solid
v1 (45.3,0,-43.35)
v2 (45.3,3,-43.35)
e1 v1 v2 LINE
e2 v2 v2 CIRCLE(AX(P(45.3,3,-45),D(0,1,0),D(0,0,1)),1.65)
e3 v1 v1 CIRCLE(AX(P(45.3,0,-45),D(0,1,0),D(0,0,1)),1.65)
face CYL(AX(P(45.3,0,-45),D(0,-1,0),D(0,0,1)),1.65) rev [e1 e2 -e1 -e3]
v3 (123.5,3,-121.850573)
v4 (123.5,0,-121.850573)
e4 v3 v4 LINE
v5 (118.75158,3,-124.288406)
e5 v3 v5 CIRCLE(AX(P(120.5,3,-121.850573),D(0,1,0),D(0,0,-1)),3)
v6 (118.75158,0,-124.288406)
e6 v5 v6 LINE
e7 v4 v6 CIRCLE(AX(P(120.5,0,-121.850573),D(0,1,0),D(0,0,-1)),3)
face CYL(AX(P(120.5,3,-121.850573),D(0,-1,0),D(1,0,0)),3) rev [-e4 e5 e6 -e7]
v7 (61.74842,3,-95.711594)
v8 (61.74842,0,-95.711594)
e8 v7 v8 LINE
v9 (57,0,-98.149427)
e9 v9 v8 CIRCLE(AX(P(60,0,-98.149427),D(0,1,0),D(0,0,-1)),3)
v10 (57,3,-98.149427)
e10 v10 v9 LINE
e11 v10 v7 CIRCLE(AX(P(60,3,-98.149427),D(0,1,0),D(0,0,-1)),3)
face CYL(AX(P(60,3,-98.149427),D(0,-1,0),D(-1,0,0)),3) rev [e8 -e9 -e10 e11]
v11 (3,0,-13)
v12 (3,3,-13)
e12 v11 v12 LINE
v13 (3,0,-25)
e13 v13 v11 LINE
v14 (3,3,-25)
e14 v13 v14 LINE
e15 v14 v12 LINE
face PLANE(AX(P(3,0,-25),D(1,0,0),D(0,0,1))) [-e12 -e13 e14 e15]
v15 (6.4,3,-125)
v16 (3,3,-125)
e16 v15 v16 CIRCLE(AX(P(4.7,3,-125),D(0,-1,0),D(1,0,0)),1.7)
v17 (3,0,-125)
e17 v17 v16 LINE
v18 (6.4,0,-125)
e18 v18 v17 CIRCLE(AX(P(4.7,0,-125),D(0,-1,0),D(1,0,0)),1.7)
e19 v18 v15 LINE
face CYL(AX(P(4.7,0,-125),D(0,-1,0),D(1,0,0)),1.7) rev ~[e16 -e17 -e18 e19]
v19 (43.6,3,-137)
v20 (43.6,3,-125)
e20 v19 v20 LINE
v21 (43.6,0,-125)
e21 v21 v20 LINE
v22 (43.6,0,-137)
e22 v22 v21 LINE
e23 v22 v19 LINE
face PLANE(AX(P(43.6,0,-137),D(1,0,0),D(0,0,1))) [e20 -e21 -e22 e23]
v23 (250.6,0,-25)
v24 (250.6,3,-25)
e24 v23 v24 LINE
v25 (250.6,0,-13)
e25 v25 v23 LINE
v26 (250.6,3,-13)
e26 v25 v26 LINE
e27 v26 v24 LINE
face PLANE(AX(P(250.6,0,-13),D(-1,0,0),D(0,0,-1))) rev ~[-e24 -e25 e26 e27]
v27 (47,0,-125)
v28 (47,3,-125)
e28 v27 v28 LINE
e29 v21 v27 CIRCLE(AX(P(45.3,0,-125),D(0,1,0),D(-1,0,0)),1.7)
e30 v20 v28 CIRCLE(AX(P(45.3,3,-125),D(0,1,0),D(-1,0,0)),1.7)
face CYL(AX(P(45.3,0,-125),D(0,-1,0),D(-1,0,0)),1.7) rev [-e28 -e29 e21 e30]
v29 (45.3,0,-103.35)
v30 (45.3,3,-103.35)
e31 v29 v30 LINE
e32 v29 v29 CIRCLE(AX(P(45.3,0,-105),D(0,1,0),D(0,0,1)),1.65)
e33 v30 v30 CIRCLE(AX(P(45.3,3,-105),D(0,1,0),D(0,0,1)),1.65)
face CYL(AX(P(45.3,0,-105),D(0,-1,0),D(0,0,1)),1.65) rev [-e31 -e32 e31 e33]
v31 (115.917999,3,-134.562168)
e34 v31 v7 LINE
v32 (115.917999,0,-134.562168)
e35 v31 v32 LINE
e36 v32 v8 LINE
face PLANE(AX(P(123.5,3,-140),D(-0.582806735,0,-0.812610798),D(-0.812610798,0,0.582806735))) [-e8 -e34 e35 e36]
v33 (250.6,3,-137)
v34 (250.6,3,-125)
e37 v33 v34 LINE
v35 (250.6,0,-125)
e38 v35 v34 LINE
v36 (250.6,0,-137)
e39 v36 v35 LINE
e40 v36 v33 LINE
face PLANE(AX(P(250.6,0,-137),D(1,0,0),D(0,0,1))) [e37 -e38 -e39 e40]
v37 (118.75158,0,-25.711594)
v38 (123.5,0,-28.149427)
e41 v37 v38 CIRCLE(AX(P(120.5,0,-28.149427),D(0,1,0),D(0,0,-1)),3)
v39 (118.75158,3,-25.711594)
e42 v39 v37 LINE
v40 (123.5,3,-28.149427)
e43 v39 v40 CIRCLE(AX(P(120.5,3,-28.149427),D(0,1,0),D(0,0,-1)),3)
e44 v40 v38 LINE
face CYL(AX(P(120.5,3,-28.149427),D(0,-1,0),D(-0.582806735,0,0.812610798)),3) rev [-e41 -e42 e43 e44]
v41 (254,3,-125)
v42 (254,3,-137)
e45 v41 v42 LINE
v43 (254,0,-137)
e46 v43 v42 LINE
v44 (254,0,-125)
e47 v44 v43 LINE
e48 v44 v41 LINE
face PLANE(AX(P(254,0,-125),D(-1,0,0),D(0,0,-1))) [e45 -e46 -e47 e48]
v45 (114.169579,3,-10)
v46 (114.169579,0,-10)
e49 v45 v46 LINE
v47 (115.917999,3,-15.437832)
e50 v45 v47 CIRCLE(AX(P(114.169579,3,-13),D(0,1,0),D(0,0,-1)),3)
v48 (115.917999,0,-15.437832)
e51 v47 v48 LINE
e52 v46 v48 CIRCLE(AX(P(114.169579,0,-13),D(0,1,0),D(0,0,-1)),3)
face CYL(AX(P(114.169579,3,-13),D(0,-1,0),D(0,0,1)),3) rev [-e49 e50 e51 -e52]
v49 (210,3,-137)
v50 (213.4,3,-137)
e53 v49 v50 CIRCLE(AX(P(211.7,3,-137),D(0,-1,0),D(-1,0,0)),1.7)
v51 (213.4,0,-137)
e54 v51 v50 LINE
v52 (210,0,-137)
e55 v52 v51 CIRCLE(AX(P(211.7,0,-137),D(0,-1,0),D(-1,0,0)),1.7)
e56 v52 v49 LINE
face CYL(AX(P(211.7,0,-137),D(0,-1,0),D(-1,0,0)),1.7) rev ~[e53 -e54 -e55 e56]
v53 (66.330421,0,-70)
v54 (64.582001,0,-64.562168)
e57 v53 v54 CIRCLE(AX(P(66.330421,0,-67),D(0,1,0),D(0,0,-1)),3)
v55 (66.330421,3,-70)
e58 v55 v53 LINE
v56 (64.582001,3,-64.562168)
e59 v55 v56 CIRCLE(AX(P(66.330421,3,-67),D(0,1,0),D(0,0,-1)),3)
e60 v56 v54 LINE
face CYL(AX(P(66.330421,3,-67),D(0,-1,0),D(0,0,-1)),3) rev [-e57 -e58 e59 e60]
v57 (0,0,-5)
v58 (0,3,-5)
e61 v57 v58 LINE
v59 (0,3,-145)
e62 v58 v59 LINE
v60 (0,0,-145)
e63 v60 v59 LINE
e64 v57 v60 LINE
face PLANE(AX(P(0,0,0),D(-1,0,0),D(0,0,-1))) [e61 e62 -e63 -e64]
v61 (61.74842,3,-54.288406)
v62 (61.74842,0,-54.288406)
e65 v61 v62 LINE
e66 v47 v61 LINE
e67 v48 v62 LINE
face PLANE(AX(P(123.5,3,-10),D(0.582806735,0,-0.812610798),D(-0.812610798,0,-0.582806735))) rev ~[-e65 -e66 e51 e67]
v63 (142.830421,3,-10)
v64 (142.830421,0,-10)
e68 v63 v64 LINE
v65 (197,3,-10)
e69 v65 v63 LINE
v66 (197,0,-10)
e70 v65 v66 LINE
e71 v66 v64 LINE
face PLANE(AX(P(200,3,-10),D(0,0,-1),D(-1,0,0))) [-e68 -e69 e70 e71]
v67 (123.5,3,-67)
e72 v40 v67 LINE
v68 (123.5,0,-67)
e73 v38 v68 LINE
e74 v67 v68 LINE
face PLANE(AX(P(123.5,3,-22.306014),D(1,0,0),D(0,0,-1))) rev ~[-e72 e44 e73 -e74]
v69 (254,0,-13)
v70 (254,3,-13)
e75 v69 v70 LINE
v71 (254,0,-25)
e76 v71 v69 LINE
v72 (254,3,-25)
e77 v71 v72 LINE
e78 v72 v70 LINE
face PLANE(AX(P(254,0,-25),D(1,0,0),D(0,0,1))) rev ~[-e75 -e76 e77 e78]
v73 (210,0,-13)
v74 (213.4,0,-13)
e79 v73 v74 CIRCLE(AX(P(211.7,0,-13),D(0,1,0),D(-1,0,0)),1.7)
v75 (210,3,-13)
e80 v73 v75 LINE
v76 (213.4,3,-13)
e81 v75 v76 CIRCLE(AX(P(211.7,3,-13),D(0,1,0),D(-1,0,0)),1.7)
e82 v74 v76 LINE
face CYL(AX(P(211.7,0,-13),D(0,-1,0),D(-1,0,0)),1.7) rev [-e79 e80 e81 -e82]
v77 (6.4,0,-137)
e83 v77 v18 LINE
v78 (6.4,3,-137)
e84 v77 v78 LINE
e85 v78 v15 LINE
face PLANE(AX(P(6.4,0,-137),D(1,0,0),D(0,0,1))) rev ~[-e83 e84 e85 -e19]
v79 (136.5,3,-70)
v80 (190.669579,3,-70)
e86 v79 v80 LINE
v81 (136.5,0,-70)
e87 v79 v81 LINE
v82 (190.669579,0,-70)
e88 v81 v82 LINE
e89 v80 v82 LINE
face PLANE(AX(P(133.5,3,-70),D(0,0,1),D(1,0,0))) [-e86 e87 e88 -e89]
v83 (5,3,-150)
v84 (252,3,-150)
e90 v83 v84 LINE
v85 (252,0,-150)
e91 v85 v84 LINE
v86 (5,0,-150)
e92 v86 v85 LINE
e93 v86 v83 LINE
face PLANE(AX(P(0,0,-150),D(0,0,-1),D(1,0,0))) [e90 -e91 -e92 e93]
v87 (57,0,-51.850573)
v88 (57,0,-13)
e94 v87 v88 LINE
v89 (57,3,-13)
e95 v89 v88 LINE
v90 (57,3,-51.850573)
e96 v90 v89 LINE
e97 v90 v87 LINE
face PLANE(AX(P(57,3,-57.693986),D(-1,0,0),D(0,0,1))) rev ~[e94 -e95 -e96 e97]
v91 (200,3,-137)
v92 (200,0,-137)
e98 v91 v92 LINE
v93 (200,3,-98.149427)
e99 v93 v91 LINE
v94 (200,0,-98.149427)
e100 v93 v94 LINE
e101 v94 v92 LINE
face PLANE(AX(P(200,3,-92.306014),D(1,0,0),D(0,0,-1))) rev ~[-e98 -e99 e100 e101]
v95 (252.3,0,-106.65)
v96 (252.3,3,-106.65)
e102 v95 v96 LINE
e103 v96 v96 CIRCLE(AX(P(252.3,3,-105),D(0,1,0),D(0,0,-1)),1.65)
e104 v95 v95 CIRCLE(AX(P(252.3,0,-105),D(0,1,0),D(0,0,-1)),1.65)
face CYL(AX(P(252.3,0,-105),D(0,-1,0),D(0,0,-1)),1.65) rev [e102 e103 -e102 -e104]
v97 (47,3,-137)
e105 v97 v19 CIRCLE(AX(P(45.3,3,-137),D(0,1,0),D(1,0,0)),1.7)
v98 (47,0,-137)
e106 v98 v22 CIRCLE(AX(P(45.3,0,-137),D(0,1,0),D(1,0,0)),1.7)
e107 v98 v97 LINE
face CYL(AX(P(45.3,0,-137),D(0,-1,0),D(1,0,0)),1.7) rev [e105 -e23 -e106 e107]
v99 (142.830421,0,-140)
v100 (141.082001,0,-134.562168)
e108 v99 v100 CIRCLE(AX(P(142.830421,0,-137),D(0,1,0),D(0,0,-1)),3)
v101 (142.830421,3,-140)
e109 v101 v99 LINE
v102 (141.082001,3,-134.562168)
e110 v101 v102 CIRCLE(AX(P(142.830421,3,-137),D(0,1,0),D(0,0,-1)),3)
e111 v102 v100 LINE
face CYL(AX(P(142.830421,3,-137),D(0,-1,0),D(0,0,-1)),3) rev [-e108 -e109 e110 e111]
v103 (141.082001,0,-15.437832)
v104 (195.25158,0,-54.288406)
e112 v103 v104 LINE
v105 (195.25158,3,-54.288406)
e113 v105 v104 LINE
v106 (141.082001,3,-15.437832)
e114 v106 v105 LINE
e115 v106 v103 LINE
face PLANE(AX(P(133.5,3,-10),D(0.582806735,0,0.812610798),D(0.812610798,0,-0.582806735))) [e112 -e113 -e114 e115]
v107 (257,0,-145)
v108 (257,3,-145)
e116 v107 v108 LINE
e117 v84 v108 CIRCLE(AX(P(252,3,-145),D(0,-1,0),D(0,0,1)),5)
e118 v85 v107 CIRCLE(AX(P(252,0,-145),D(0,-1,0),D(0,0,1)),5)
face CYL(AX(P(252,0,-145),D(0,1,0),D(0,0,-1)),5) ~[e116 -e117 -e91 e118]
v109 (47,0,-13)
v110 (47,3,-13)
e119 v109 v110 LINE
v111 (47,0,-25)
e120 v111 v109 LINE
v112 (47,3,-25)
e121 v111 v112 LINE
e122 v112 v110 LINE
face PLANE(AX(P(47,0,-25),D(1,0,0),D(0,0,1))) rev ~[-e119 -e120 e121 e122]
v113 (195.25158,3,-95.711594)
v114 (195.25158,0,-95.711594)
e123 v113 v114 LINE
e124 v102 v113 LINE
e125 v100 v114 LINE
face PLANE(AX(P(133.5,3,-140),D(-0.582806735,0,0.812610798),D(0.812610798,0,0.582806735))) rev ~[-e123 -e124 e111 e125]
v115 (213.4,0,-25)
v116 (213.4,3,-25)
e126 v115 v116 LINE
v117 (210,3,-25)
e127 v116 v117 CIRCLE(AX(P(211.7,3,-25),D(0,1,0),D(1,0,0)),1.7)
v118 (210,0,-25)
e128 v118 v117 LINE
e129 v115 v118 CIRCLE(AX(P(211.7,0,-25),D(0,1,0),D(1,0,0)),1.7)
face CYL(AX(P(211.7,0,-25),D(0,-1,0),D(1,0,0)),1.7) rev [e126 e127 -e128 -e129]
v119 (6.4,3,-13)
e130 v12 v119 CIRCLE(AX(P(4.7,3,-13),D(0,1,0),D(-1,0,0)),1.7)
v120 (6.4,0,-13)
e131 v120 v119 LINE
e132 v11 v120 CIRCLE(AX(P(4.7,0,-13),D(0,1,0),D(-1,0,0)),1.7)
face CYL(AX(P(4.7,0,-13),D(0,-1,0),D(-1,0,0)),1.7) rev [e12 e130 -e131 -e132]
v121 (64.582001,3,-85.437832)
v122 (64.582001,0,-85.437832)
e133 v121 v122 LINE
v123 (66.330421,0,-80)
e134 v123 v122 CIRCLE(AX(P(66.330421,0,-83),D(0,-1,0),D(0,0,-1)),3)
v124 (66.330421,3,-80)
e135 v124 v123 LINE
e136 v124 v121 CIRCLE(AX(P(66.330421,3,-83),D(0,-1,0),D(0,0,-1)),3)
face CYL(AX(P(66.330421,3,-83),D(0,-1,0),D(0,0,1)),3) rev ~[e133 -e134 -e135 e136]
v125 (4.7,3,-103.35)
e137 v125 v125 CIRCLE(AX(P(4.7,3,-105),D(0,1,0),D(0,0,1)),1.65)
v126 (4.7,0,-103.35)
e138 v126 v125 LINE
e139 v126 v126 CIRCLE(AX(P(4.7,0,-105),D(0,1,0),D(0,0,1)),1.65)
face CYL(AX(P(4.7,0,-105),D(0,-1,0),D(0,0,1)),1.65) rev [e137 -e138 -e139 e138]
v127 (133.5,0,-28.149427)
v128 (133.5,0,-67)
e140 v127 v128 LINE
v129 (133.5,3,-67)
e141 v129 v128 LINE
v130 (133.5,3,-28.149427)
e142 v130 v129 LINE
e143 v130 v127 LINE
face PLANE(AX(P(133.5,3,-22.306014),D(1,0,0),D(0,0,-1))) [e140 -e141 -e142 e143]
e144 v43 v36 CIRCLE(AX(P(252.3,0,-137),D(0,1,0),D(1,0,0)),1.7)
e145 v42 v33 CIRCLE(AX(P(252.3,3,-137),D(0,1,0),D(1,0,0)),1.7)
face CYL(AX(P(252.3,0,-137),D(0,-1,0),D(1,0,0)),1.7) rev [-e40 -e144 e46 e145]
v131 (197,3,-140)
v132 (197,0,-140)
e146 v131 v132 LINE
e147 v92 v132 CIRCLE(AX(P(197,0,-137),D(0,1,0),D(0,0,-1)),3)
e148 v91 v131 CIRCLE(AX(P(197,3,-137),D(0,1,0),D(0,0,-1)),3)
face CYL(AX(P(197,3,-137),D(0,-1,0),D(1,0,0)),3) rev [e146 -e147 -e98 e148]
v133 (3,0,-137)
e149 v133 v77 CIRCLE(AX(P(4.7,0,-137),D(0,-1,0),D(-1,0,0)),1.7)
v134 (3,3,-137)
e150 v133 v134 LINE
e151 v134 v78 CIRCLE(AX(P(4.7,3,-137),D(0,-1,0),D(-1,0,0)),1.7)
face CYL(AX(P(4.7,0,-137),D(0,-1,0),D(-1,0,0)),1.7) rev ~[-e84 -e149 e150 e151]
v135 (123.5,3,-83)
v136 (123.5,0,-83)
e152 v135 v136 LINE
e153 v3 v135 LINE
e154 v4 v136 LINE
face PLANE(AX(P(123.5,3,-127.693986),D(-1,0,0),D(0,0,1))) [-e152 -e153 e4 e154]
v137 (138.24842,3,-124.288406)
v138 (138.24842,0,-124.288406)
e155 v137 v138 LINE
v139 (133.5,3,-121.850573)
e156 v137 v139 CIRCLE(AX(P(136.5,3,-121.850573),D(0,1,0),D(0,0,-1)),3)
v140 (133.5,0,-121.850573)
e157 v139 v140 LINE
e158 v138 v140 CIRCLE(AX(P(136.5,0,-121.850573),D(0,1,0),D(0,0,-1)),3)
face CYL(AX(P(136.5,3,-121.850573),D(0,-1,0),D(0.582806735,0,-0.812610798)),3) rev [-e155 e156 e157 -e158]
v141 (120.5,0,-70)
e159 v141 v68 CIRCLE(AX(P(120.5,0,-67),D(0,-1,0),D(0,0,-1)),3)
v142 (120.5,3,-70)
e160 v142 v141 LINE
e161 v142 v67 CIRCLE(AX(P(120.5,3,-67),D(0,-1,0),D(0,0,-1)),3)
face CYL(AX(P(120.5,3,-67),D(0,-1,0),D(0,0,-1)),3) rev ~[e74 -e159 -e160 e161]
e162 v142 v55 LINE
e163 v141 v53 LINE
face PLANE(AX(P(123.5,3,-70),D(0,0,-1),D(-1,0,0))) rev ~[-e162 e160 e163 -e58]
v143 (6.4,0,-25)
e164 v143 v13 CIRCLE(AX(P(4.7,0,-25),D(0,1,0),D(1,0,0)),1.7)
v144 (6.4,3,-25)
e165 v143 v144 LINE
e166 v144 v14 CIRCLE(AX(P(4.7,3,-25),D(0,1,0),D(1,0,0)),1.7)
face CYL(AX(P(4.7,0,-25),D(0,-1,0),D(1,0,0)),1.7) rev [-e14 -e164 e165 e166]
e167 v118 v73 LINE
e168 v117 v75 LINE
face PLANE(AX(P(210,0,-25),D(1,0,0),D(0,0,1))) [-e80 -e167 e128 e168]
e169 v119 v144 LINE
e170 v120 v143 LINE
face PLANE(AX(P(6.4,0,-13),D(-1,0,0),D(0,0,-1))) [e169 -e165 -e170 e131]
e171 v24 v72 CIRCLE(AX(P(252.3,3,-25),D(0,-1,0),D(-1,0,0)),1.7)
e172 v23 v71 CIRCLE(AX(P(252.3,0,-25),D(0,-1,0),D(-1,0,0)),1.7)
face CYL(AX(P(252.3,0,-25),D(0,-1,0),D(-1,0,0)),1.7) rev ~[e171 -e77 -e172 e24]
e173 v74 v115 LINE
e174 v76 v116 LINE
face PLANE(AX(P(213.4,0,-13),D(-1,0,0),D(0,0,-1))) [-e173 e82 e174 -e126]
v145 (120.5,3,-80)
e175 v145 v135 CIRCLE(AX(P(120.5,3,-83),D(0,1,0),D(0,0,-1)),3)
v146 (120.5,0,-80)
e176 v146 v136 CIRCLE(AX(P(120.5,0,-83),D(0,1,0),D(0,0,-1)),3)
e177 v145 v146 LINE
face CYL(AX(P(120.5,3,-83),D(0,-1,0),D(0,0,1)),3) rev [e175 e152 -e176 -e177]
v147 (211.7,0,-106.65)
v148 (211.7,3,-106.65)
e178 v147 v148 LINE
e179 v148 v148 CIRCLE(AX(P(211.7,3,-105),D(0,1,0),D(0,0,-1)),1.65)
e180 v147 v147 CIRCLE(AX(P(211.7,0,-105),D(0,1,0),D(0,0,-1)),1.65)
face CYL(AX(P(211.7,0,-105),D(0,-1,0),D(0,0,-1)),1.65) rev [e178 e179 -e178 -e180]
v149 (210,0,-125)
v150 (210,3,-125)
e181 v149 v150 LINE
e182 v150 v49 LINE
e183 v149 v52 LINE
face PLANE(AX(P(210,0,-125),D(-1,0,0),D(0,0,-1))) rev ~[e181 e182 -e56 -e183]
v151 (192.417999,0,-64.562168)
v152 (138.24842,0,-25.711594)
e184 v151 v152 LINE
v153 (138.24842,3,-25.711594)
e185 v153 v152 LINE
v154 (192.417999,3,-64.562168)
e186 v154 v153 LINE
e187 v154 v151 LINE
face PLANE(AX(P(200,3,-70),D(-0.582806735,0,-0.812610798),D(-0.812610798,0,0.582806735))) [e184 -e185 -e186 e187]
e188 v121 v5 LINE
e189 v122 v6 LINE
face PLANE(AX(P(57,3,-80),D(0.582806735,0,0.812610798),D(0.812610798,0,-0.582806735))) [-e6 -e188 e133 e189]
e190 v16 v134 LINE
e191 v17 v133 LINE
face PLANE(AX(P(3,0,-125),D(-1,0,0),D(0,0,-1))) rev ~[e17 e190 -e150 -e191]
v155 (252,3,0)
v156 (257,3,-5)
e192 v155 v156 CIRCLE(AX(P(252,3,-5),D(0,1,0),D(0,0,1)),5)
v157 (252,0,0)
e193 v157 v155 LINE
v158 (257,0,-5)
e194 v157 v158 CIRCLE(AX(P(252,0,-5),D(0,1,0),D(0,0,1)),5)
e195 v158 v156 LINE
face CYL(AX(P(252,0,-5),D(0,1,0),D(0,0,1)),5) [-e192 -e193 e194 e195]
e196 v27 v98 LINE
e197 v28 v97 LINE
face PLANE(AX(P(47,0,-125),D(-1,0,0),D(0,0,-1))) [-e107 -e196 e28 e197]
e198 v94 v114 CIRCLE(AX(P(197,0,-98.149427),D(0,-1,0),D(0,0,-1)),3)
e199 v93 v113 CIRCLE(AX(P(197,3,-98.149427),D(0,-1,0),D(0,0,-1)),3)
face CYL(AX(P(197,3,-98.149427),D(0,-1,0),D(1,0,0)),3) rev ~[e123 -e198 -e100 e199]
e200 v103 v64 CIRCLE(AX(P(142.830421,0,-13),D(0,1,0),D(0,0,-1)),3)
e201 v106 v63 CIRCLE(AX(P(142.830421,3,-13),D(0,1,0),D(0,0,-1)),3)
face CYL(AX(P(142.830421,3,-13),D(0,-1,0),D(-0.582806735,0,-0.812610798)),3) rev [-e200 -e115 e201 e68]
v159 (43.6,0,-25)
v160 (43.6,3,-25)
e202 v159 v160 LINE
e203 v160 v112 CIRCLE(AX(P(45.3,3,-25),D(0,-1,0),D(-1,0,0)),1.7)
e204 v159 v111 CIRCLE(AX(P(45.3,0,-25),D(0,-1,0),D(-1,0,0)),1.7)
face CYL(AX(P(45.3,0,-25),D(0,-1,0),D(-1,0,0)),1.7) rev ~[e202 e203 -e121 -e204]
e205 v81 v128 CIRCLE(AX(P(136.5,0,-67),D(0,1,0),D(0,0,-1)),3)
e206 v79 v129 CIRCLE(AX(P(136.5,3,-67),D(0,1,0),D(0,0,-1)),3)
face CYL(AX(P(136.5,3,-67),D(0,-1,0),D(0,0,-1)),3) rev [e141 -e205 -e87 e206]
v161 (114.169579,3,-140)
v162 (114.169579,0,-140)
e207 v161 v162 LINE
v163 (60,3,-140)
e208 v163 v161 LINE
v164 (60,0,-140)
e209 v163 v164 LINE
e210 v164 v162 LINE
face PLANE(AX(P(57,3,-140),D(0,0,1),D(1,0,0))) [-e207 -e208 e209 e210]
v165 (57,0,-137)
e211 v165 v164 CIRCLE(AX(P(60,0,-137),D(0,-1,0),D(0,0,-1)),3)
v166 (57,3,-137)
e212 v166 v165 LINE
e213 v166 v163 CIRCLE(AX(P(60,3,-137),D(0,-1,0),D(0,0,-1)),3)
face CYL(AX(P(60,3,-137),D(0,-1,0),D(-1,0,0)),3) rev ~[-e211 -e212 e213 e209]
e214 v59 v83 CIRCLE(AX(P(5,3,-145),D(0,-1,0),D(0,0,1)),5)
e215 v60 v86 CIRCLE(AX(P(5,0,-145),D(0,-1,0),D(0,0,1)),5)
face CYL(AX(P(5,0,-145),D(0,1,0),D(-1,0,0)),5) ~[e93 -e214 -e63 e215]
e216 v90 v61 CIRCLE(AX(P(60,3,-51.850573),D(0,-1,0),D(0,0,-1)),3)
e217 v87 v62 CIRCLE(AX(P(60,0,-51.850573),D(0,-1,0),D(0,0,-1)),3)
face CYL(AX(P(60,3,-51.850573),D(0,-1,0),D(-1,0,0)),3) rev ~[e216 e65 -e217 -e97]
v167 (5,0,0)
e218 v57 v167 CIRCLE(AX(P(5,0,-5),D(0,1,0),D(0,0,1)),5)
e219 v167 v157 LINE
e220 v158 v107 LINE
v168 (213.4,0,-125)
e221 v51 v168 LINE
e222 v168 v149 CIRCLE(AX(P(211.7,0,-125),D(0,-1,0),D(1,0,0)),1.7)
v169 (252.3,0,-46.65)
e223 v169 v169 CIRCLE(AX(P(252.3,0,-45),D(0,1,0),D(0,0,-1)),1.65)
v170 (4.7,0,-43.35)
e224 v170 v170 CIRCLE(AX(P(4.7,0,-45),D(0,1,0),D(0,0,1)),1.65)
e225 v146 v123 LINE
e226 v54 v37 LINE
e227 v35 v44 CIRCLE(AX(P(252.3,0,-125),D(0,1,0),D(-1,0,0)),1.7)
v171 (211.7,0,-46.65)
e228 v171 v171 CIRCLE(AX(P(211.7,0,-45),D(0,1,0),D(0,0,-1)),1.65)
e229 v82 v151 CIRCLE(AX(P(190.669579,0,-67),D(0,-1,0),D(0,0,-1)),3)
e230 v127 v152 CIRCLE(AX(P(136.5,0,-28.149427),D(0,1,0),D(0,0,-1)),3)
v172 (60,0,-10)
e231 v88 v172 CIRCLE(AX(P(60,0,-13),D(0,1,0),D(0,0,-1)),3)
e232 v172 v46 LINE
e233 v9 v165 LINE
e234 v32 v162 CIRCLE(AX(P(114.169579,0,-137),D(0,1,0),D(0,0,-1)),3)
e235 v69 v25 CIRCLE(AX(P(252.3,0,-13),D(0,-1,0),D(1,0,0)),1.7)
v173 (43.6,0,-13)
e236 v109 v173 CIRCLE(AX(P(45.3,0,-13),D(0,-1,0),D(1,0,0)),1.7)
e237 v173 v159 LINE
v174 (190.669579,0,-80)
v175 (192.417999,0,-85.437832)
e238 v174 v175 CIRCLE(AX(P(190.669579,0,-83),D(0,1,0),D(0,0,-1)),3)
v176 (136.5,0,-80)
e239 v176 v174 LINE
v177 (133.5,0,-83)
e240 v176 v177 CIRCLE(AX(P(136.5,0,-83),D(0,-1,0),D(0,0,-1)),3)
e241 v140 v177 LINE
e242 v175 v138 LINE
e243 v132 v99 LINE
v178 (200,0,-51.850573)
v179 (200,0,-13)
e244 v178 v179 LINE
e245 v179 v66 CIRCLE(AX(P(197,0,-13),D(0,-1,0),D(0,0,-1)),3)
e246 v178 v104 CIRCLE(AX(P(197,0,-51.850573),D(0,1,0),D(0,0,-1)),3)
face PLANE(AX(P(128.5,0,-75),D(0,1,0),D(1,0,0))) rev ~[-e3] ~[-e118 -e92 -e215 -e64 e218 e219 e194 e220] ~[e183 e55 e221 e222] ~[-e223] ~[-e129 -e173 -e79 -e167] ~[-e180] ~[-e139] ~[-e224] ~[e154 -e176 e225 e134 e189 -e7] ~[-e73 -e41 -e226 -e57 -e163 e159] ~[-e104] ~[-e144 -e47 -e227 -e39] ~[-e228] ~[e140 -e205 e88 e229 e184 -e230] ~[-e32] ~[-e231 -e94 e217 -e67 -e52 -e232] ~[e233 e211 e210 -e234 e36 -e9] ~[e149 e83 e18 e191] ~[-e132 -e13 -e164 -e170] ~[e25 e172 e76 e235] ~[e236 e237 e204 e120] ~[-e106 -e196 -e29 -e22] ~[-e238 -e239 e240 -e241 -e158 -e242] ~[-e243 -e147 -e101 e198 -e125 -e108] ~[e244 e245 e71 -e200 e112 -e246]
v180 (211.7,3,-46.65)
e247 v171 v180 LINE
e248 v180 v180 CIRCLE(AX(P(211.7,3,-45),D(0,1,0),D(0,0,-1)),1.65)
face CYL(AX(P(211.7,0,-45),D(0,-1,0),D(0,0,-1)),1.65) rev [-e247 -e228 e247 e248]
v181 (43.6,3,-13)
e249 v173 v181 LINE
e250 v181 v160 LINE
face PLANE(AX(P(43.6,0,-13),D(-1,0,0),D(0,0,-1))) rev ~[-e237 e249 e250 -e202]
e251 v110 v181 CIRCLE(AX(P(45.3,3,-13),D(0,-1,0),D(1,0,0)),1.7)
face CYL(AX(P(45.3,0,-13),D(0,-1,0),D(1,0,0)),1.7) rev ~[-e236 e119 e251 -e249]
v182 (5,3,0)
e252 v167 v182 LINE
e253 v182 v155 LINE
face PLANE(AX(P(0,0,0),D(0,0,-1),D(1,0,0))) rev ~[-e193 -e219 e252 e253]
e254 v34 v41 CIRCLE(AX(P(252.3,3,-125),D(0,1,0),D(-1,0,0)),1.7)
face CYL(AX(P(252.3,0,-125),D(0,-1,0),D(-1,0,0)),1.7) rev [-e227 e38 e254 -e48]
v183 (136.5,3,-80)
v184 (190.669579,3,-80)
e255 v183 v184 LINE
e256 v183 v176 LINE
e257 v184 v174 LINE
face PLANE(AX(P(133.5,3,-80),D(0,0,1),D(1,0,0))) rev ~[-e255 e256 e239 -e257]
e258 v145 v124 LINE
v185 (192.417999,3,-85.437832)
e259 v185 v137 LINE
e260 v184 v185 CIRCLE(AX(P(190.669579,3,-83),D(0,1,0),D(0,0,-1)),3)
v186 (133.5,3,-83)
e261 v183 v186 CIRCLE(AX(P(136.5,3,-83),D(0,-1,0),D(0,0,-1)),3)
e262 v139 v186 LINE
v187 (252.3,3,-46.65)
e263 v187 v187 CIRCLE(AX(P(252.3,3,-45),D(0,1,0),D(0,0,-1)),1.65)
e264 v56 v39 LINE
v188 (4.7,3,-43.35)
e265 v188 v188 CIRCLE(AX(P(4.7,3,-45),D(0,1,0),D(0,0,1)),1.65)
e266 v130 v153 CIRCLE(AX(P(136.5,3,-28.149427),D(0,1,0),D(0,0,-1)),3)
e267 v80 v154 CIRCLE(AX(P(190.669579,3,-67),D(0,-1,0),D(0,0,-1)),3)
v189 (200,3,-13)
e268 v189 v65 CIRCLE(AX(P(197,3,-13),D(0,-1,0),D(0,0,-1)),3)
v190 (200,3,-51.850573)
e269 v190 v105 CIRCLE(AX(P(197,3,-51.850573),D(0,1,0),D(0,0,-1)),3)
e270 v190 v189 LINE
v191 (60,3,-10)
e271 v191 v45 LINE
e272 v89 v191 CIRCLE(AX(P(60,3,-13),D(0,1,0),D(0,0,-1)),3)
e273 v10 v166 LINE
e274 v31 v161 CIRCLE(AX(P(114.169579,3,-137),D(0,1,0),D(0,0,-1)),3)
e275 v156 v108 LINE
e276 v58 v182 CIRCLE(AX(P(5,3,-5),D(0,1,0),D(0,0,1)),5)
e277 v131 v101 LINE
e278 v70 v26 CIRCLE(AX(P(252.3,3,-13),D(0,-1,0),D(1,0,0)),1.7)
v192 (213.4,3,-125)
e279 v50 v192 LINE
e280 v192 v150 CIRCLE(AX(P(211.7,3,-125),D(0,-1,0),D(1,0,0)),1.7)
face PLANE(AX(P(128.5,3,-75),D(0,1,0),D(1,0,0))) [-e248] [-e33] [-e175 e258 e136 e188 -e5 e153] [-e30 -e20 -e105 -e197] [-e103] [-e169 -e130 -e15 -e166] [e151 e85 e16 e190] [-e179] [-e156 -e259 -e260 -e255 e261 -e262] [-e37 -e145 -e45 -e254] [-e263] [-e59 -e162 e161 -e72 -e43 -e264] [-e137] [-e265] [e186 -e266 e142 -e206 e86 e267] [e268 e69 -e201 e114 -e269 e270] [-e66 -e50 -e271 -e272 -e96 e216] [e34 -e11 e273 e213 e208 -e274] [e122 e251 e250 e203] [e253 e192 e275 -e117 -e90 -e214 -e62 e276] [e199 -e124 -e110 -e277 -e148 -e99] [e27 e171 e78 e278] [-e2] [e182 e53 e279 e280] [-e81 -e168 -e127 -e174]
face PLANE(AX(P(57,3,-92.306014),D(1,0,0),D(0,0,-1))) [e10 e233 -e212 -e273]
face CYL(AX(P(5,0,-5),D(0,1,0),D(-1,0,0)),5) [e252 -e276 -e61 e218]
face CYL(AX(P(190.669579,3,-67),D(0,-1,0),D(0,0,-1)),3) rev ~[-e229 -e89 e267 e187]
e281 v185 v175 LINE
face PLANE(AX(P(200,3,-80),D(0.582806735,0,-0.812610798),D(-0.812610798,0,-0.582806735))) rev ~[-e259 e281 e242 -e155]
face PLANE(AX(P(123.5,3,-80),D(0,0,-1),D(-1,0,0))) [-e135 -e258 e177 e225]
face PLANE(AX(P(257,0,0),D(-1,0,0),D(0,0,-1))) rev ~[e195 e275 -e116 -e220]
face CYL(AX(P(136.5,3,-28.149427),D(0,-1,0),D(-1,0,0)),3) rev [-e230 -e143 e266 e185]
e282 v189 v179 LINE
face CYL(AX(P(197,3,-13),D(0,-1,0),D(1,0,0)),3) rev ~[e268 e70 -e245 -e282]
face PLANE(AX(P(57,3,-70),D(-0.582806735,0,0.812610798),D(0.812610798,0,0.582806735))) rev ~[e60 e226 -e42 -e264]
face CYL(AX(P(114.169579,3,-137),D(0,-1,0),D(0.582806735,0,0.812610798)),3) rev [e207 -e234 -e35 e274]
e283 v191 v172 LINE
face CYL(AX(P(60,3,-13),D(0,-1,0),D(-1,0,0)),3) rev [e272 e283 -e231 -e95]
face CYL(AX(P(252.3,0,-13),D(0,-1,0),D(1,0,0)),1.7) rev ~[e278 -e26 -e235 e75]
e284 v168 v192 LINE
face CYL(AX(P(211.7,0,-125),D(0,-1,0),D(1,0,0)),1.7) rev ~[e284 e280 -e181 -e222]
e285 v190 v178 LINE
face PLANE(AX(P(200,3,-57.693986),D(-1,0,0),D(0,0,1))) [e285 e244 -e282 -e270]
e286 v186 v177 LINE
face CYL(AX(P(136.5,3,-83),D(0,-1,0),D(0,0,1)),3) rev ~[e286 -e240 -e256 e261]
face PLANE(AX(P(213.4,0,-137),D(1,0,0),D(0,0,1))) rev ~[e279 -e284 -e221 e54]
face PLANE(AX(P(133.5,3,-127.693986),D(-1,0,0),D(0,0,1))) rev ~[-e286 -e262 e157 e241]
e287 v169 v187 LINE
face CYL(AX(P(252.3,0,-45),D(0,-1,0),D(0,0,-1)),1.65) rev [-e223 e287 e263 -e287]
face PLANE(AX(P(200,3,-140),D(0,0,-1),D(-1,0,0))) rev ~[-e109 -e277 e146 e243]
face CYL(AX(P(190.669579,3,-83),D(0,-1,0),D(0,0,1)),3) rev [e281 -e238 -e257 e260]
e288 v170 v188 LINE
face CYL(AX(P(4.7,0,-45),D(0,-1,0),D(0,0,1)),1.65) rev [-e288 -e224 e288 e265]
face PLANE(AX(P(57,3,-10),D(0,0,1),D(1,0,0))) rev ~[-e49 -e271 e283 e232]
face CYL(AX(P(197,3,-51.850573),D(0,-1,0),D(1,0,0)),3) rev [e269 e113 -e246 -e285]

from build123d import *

# Parameters (mm, degrees)
SKETCH_1_W          = 257
SKETCH_1_H          = 150
SKETCH_1_R          = 1.65
EXTRUDE_1_DEPTH     = 3
CUT_EXTRUDE_1_DEPTH = 298.58696208
FILLET_1_R          = 3
FILLET_2_R          = 5


with BuildPart() as part:
    # 草图1 → 凸台-拉伸1 (new body)
    with BuildSketch(Plane(origin=(0, 0, 0), x_dir=(1, 0, 0), z_dir=(0, 1, 0))):
        with Locations((128.5, 75)):
            Rectangle(SKETCH_1_W, SKETCH_1_H)
        with Locations(Location((4.7, 45, 0), (0, 0, 270))):
            Circle(SKETCH_1_R, mode=Mode.SUBTRACT)
        with Locations(Location((4.7, 105, 0), (0, 0, 270))):
            Circle(SKETCH_1_R, mode=Mode.SUBTRACT)
        with Locations(Location((45.3, 45, 0), (0, 0, 270))):
            Circle(SKETCH_1_R, mode=Mode.SUBTRACT)
        with Locations(Location((45.3, 105, 0), (0, 0, 270))):
            Circle(SKETCH_1_R, mode=Mode.SUBTRACT)
        with Locations(Location((252.3, 105, 0), (0, 0, 90))):
            Circle(SKETCH_1_R, mode=Mode.SUBTRACT)
        with Locations(Location((211.7, 105, 0), (0, 0, 90))):
            Circle(SKETCH_1_R, mode=Mode.SUBTRACT)
        with Locations(Location((252.3, 45, 0), (0, 0, 90))):
            Circle(SKETCH_1_R, mode=Mode.SUBTRACT)
        with Locations(Location((211.7, 45, 0), (0, 0, 90))):
            Circle(SKETCH_1_R, mode=Mode.SUBTRACT)
        with BuildLine():
            Line((6.4, 137), (6.4, 125))
            ThreePointArc((6.4, 125), (4.7, 123.3), (3, 125))
            Line((3, 125), (3, 137))
            ThreePointArc((3, 137), (4.7, 138.7), (6.4, 137))
        make_face(mode=Mode.SUBTRACT)
        with BuildLine():
            Line((43.6, 137), (43.6, 125))
            ThreePointArc((43.6, 125), (45.3, 123.3), (47, 125))
            Line((47, 125), (47, 137))
            ThreePointArc((47, 137), (45.3, 138.7), (43.6, 137))
        make_face(mode=Mode.SUBTRACT)
        with BuildLine():
            Line((43.6, 13), (43.6, 25))
            ThreePointArc((43.6, 25), (45.3, 26.7), (47, 25))
            Line((47, 25), (47, 13))
            ThreePointArc((47, 13), (45.3, 11.3), (43.6, 13))
        make_face(mode=Mode.SUBTRACT)
        with BuildLine():
            Line((6.4, 13), (6.4, 25))
            ThreePointArc((6.4, 25), (4.7, 26.7), (3, 25))
            Line((3, 25), (3, 13))
            ThreePointArc((3, 13), (4.7, 11.3), (6.4, 13))
        make_face(mode=Mode.SUBTRACT)
        with BuildLine():
            Line((213.4, 13), (213.4, 25))
            ThreePointArc((213.4, 25), (211.7, 26.7), (210, 25))
            Line((210, 25), (210, 13))
            ThreePointArc((210, 13), (211.7, 11.3), (213.4, 13))
        make_face(mode=Mode.SUBTRACT)
        with BuildLine():
            Line((250.6, 13), (250.6, 25))
            ThreePointArc((250.6, 25), (252.3, 26.7), (254, 25))
            Line((254, 25), (254, 13))
            ThreePointArc((254, 13), (252.3, 11.3), (250.6, 13))
        make_face(mode=Mode.SUBTRACT)
        with BuildLine():
            Line((250.6, 137), (250.6, 125))
            ThreePointArc((250.6, 125), (252.3, 123.3), (254, 125))
            Line((254, 125), (254, 137))
            ThreePointArc((254, 137), (252.3, 138.7), (250.6, 137))
        make_face(mode=Mode.SUBTRACT)
        with BuildLine():
            Line((213.4, 137), (213.4, 125))
            ThreePointArc((213.4, 125), (211.7, 123.3), (210, 125))
            Line((210, 125), (210, 137))
            ThreePointArc((210, 137), (211.7, 138.7), (213.4, 137))
        make_face(mode=Mode.SUBTRACT)
    extrude(amount=EXTRUDE_1_DEPTH)

    # 草图2 → 切除-拉伸1 (cut, through all)
    with BuildSketch(Plane(origin=(0, 3, 0), x_dir=(1, 0, 0), z_dir=(0, 1, 0))):
        Polygon((57, 140), (123.5, 140), (57, 92.306014173), align=None)
        Polygon((57, 80), (123.5, 127.693985827), (123.5, 80), align=None)
        Polygon((133.5, 80), (200, 80), (133.5, 127.693985827), align=None)
        Polygon((200, 92.306014173), (200, 140), (133.5, 140), align=None)
        Polygon((200, 10), (133.5, 10), (200, 57.693985827), align=None)
        Polygon((200, 70), (133.5, 22.306014173), (133.5, 70), align=None)
        Polygon((123.5, 70), (57, 70), (123.5, 22.306014173), align=None)
        Polygon((57, 57.693985827), (57, 10), (123.5, 10), align=None)
    extrude(amount=-CUT_EXTRUDE_1_DEPTH, mode=Mode.SUBTRACT)

    # 圆角1
    fillet_1_edges = [part.edges().sort_by_distance(p)[0] for p in [
        (200, 1.5, -57.693985827),
        (200, 1.5, -10),
        (133.5, 1.5, -10),
        (200, 1.5, -92.306014173),
        (133.5, 1.5, -140),
        (200, 1.5, -140),
        (133.5, 1.5, -80),
        (133.5, 1.5, -127.693985827),
        (200, 1.5, -80),
        (123.5, 1.5, -80),
        (57, 1.5, -80),
        (123.5, 1.5, -127.693985827),
        (57, 1.5, -57.693985827),
        (123.5, 1.5, -10),
        (57, 1.5, -10),
        (123.5, 1.5, -70),
        (123.5, 1.5, -22.306014173),
        (57, 1.5, -70),
        (133.5, 1.5, -70),
        (200, 1.5, -70),
        (133.5, 1.5, -22.306014173),
        (57, 1.5, -92.306014173),
        (57, 1.5, -140),
        (123.5, 1.5, -140),
    ]]
    fillet(fillet_1_edges, radius=FILLET_1_R)

    # 圆角2
    fillet_2_edges = [part.edges().sort_by_distance(p)[0] for p in [
        (0, 1.5, -150),
        (257, 1.5, -150),
        (257, 1.5, 0),
        (0, 1.5, 0),
    ]]
    fillet(fillet_2_edges, radius=FILLET_2_R)


solid = part.part
